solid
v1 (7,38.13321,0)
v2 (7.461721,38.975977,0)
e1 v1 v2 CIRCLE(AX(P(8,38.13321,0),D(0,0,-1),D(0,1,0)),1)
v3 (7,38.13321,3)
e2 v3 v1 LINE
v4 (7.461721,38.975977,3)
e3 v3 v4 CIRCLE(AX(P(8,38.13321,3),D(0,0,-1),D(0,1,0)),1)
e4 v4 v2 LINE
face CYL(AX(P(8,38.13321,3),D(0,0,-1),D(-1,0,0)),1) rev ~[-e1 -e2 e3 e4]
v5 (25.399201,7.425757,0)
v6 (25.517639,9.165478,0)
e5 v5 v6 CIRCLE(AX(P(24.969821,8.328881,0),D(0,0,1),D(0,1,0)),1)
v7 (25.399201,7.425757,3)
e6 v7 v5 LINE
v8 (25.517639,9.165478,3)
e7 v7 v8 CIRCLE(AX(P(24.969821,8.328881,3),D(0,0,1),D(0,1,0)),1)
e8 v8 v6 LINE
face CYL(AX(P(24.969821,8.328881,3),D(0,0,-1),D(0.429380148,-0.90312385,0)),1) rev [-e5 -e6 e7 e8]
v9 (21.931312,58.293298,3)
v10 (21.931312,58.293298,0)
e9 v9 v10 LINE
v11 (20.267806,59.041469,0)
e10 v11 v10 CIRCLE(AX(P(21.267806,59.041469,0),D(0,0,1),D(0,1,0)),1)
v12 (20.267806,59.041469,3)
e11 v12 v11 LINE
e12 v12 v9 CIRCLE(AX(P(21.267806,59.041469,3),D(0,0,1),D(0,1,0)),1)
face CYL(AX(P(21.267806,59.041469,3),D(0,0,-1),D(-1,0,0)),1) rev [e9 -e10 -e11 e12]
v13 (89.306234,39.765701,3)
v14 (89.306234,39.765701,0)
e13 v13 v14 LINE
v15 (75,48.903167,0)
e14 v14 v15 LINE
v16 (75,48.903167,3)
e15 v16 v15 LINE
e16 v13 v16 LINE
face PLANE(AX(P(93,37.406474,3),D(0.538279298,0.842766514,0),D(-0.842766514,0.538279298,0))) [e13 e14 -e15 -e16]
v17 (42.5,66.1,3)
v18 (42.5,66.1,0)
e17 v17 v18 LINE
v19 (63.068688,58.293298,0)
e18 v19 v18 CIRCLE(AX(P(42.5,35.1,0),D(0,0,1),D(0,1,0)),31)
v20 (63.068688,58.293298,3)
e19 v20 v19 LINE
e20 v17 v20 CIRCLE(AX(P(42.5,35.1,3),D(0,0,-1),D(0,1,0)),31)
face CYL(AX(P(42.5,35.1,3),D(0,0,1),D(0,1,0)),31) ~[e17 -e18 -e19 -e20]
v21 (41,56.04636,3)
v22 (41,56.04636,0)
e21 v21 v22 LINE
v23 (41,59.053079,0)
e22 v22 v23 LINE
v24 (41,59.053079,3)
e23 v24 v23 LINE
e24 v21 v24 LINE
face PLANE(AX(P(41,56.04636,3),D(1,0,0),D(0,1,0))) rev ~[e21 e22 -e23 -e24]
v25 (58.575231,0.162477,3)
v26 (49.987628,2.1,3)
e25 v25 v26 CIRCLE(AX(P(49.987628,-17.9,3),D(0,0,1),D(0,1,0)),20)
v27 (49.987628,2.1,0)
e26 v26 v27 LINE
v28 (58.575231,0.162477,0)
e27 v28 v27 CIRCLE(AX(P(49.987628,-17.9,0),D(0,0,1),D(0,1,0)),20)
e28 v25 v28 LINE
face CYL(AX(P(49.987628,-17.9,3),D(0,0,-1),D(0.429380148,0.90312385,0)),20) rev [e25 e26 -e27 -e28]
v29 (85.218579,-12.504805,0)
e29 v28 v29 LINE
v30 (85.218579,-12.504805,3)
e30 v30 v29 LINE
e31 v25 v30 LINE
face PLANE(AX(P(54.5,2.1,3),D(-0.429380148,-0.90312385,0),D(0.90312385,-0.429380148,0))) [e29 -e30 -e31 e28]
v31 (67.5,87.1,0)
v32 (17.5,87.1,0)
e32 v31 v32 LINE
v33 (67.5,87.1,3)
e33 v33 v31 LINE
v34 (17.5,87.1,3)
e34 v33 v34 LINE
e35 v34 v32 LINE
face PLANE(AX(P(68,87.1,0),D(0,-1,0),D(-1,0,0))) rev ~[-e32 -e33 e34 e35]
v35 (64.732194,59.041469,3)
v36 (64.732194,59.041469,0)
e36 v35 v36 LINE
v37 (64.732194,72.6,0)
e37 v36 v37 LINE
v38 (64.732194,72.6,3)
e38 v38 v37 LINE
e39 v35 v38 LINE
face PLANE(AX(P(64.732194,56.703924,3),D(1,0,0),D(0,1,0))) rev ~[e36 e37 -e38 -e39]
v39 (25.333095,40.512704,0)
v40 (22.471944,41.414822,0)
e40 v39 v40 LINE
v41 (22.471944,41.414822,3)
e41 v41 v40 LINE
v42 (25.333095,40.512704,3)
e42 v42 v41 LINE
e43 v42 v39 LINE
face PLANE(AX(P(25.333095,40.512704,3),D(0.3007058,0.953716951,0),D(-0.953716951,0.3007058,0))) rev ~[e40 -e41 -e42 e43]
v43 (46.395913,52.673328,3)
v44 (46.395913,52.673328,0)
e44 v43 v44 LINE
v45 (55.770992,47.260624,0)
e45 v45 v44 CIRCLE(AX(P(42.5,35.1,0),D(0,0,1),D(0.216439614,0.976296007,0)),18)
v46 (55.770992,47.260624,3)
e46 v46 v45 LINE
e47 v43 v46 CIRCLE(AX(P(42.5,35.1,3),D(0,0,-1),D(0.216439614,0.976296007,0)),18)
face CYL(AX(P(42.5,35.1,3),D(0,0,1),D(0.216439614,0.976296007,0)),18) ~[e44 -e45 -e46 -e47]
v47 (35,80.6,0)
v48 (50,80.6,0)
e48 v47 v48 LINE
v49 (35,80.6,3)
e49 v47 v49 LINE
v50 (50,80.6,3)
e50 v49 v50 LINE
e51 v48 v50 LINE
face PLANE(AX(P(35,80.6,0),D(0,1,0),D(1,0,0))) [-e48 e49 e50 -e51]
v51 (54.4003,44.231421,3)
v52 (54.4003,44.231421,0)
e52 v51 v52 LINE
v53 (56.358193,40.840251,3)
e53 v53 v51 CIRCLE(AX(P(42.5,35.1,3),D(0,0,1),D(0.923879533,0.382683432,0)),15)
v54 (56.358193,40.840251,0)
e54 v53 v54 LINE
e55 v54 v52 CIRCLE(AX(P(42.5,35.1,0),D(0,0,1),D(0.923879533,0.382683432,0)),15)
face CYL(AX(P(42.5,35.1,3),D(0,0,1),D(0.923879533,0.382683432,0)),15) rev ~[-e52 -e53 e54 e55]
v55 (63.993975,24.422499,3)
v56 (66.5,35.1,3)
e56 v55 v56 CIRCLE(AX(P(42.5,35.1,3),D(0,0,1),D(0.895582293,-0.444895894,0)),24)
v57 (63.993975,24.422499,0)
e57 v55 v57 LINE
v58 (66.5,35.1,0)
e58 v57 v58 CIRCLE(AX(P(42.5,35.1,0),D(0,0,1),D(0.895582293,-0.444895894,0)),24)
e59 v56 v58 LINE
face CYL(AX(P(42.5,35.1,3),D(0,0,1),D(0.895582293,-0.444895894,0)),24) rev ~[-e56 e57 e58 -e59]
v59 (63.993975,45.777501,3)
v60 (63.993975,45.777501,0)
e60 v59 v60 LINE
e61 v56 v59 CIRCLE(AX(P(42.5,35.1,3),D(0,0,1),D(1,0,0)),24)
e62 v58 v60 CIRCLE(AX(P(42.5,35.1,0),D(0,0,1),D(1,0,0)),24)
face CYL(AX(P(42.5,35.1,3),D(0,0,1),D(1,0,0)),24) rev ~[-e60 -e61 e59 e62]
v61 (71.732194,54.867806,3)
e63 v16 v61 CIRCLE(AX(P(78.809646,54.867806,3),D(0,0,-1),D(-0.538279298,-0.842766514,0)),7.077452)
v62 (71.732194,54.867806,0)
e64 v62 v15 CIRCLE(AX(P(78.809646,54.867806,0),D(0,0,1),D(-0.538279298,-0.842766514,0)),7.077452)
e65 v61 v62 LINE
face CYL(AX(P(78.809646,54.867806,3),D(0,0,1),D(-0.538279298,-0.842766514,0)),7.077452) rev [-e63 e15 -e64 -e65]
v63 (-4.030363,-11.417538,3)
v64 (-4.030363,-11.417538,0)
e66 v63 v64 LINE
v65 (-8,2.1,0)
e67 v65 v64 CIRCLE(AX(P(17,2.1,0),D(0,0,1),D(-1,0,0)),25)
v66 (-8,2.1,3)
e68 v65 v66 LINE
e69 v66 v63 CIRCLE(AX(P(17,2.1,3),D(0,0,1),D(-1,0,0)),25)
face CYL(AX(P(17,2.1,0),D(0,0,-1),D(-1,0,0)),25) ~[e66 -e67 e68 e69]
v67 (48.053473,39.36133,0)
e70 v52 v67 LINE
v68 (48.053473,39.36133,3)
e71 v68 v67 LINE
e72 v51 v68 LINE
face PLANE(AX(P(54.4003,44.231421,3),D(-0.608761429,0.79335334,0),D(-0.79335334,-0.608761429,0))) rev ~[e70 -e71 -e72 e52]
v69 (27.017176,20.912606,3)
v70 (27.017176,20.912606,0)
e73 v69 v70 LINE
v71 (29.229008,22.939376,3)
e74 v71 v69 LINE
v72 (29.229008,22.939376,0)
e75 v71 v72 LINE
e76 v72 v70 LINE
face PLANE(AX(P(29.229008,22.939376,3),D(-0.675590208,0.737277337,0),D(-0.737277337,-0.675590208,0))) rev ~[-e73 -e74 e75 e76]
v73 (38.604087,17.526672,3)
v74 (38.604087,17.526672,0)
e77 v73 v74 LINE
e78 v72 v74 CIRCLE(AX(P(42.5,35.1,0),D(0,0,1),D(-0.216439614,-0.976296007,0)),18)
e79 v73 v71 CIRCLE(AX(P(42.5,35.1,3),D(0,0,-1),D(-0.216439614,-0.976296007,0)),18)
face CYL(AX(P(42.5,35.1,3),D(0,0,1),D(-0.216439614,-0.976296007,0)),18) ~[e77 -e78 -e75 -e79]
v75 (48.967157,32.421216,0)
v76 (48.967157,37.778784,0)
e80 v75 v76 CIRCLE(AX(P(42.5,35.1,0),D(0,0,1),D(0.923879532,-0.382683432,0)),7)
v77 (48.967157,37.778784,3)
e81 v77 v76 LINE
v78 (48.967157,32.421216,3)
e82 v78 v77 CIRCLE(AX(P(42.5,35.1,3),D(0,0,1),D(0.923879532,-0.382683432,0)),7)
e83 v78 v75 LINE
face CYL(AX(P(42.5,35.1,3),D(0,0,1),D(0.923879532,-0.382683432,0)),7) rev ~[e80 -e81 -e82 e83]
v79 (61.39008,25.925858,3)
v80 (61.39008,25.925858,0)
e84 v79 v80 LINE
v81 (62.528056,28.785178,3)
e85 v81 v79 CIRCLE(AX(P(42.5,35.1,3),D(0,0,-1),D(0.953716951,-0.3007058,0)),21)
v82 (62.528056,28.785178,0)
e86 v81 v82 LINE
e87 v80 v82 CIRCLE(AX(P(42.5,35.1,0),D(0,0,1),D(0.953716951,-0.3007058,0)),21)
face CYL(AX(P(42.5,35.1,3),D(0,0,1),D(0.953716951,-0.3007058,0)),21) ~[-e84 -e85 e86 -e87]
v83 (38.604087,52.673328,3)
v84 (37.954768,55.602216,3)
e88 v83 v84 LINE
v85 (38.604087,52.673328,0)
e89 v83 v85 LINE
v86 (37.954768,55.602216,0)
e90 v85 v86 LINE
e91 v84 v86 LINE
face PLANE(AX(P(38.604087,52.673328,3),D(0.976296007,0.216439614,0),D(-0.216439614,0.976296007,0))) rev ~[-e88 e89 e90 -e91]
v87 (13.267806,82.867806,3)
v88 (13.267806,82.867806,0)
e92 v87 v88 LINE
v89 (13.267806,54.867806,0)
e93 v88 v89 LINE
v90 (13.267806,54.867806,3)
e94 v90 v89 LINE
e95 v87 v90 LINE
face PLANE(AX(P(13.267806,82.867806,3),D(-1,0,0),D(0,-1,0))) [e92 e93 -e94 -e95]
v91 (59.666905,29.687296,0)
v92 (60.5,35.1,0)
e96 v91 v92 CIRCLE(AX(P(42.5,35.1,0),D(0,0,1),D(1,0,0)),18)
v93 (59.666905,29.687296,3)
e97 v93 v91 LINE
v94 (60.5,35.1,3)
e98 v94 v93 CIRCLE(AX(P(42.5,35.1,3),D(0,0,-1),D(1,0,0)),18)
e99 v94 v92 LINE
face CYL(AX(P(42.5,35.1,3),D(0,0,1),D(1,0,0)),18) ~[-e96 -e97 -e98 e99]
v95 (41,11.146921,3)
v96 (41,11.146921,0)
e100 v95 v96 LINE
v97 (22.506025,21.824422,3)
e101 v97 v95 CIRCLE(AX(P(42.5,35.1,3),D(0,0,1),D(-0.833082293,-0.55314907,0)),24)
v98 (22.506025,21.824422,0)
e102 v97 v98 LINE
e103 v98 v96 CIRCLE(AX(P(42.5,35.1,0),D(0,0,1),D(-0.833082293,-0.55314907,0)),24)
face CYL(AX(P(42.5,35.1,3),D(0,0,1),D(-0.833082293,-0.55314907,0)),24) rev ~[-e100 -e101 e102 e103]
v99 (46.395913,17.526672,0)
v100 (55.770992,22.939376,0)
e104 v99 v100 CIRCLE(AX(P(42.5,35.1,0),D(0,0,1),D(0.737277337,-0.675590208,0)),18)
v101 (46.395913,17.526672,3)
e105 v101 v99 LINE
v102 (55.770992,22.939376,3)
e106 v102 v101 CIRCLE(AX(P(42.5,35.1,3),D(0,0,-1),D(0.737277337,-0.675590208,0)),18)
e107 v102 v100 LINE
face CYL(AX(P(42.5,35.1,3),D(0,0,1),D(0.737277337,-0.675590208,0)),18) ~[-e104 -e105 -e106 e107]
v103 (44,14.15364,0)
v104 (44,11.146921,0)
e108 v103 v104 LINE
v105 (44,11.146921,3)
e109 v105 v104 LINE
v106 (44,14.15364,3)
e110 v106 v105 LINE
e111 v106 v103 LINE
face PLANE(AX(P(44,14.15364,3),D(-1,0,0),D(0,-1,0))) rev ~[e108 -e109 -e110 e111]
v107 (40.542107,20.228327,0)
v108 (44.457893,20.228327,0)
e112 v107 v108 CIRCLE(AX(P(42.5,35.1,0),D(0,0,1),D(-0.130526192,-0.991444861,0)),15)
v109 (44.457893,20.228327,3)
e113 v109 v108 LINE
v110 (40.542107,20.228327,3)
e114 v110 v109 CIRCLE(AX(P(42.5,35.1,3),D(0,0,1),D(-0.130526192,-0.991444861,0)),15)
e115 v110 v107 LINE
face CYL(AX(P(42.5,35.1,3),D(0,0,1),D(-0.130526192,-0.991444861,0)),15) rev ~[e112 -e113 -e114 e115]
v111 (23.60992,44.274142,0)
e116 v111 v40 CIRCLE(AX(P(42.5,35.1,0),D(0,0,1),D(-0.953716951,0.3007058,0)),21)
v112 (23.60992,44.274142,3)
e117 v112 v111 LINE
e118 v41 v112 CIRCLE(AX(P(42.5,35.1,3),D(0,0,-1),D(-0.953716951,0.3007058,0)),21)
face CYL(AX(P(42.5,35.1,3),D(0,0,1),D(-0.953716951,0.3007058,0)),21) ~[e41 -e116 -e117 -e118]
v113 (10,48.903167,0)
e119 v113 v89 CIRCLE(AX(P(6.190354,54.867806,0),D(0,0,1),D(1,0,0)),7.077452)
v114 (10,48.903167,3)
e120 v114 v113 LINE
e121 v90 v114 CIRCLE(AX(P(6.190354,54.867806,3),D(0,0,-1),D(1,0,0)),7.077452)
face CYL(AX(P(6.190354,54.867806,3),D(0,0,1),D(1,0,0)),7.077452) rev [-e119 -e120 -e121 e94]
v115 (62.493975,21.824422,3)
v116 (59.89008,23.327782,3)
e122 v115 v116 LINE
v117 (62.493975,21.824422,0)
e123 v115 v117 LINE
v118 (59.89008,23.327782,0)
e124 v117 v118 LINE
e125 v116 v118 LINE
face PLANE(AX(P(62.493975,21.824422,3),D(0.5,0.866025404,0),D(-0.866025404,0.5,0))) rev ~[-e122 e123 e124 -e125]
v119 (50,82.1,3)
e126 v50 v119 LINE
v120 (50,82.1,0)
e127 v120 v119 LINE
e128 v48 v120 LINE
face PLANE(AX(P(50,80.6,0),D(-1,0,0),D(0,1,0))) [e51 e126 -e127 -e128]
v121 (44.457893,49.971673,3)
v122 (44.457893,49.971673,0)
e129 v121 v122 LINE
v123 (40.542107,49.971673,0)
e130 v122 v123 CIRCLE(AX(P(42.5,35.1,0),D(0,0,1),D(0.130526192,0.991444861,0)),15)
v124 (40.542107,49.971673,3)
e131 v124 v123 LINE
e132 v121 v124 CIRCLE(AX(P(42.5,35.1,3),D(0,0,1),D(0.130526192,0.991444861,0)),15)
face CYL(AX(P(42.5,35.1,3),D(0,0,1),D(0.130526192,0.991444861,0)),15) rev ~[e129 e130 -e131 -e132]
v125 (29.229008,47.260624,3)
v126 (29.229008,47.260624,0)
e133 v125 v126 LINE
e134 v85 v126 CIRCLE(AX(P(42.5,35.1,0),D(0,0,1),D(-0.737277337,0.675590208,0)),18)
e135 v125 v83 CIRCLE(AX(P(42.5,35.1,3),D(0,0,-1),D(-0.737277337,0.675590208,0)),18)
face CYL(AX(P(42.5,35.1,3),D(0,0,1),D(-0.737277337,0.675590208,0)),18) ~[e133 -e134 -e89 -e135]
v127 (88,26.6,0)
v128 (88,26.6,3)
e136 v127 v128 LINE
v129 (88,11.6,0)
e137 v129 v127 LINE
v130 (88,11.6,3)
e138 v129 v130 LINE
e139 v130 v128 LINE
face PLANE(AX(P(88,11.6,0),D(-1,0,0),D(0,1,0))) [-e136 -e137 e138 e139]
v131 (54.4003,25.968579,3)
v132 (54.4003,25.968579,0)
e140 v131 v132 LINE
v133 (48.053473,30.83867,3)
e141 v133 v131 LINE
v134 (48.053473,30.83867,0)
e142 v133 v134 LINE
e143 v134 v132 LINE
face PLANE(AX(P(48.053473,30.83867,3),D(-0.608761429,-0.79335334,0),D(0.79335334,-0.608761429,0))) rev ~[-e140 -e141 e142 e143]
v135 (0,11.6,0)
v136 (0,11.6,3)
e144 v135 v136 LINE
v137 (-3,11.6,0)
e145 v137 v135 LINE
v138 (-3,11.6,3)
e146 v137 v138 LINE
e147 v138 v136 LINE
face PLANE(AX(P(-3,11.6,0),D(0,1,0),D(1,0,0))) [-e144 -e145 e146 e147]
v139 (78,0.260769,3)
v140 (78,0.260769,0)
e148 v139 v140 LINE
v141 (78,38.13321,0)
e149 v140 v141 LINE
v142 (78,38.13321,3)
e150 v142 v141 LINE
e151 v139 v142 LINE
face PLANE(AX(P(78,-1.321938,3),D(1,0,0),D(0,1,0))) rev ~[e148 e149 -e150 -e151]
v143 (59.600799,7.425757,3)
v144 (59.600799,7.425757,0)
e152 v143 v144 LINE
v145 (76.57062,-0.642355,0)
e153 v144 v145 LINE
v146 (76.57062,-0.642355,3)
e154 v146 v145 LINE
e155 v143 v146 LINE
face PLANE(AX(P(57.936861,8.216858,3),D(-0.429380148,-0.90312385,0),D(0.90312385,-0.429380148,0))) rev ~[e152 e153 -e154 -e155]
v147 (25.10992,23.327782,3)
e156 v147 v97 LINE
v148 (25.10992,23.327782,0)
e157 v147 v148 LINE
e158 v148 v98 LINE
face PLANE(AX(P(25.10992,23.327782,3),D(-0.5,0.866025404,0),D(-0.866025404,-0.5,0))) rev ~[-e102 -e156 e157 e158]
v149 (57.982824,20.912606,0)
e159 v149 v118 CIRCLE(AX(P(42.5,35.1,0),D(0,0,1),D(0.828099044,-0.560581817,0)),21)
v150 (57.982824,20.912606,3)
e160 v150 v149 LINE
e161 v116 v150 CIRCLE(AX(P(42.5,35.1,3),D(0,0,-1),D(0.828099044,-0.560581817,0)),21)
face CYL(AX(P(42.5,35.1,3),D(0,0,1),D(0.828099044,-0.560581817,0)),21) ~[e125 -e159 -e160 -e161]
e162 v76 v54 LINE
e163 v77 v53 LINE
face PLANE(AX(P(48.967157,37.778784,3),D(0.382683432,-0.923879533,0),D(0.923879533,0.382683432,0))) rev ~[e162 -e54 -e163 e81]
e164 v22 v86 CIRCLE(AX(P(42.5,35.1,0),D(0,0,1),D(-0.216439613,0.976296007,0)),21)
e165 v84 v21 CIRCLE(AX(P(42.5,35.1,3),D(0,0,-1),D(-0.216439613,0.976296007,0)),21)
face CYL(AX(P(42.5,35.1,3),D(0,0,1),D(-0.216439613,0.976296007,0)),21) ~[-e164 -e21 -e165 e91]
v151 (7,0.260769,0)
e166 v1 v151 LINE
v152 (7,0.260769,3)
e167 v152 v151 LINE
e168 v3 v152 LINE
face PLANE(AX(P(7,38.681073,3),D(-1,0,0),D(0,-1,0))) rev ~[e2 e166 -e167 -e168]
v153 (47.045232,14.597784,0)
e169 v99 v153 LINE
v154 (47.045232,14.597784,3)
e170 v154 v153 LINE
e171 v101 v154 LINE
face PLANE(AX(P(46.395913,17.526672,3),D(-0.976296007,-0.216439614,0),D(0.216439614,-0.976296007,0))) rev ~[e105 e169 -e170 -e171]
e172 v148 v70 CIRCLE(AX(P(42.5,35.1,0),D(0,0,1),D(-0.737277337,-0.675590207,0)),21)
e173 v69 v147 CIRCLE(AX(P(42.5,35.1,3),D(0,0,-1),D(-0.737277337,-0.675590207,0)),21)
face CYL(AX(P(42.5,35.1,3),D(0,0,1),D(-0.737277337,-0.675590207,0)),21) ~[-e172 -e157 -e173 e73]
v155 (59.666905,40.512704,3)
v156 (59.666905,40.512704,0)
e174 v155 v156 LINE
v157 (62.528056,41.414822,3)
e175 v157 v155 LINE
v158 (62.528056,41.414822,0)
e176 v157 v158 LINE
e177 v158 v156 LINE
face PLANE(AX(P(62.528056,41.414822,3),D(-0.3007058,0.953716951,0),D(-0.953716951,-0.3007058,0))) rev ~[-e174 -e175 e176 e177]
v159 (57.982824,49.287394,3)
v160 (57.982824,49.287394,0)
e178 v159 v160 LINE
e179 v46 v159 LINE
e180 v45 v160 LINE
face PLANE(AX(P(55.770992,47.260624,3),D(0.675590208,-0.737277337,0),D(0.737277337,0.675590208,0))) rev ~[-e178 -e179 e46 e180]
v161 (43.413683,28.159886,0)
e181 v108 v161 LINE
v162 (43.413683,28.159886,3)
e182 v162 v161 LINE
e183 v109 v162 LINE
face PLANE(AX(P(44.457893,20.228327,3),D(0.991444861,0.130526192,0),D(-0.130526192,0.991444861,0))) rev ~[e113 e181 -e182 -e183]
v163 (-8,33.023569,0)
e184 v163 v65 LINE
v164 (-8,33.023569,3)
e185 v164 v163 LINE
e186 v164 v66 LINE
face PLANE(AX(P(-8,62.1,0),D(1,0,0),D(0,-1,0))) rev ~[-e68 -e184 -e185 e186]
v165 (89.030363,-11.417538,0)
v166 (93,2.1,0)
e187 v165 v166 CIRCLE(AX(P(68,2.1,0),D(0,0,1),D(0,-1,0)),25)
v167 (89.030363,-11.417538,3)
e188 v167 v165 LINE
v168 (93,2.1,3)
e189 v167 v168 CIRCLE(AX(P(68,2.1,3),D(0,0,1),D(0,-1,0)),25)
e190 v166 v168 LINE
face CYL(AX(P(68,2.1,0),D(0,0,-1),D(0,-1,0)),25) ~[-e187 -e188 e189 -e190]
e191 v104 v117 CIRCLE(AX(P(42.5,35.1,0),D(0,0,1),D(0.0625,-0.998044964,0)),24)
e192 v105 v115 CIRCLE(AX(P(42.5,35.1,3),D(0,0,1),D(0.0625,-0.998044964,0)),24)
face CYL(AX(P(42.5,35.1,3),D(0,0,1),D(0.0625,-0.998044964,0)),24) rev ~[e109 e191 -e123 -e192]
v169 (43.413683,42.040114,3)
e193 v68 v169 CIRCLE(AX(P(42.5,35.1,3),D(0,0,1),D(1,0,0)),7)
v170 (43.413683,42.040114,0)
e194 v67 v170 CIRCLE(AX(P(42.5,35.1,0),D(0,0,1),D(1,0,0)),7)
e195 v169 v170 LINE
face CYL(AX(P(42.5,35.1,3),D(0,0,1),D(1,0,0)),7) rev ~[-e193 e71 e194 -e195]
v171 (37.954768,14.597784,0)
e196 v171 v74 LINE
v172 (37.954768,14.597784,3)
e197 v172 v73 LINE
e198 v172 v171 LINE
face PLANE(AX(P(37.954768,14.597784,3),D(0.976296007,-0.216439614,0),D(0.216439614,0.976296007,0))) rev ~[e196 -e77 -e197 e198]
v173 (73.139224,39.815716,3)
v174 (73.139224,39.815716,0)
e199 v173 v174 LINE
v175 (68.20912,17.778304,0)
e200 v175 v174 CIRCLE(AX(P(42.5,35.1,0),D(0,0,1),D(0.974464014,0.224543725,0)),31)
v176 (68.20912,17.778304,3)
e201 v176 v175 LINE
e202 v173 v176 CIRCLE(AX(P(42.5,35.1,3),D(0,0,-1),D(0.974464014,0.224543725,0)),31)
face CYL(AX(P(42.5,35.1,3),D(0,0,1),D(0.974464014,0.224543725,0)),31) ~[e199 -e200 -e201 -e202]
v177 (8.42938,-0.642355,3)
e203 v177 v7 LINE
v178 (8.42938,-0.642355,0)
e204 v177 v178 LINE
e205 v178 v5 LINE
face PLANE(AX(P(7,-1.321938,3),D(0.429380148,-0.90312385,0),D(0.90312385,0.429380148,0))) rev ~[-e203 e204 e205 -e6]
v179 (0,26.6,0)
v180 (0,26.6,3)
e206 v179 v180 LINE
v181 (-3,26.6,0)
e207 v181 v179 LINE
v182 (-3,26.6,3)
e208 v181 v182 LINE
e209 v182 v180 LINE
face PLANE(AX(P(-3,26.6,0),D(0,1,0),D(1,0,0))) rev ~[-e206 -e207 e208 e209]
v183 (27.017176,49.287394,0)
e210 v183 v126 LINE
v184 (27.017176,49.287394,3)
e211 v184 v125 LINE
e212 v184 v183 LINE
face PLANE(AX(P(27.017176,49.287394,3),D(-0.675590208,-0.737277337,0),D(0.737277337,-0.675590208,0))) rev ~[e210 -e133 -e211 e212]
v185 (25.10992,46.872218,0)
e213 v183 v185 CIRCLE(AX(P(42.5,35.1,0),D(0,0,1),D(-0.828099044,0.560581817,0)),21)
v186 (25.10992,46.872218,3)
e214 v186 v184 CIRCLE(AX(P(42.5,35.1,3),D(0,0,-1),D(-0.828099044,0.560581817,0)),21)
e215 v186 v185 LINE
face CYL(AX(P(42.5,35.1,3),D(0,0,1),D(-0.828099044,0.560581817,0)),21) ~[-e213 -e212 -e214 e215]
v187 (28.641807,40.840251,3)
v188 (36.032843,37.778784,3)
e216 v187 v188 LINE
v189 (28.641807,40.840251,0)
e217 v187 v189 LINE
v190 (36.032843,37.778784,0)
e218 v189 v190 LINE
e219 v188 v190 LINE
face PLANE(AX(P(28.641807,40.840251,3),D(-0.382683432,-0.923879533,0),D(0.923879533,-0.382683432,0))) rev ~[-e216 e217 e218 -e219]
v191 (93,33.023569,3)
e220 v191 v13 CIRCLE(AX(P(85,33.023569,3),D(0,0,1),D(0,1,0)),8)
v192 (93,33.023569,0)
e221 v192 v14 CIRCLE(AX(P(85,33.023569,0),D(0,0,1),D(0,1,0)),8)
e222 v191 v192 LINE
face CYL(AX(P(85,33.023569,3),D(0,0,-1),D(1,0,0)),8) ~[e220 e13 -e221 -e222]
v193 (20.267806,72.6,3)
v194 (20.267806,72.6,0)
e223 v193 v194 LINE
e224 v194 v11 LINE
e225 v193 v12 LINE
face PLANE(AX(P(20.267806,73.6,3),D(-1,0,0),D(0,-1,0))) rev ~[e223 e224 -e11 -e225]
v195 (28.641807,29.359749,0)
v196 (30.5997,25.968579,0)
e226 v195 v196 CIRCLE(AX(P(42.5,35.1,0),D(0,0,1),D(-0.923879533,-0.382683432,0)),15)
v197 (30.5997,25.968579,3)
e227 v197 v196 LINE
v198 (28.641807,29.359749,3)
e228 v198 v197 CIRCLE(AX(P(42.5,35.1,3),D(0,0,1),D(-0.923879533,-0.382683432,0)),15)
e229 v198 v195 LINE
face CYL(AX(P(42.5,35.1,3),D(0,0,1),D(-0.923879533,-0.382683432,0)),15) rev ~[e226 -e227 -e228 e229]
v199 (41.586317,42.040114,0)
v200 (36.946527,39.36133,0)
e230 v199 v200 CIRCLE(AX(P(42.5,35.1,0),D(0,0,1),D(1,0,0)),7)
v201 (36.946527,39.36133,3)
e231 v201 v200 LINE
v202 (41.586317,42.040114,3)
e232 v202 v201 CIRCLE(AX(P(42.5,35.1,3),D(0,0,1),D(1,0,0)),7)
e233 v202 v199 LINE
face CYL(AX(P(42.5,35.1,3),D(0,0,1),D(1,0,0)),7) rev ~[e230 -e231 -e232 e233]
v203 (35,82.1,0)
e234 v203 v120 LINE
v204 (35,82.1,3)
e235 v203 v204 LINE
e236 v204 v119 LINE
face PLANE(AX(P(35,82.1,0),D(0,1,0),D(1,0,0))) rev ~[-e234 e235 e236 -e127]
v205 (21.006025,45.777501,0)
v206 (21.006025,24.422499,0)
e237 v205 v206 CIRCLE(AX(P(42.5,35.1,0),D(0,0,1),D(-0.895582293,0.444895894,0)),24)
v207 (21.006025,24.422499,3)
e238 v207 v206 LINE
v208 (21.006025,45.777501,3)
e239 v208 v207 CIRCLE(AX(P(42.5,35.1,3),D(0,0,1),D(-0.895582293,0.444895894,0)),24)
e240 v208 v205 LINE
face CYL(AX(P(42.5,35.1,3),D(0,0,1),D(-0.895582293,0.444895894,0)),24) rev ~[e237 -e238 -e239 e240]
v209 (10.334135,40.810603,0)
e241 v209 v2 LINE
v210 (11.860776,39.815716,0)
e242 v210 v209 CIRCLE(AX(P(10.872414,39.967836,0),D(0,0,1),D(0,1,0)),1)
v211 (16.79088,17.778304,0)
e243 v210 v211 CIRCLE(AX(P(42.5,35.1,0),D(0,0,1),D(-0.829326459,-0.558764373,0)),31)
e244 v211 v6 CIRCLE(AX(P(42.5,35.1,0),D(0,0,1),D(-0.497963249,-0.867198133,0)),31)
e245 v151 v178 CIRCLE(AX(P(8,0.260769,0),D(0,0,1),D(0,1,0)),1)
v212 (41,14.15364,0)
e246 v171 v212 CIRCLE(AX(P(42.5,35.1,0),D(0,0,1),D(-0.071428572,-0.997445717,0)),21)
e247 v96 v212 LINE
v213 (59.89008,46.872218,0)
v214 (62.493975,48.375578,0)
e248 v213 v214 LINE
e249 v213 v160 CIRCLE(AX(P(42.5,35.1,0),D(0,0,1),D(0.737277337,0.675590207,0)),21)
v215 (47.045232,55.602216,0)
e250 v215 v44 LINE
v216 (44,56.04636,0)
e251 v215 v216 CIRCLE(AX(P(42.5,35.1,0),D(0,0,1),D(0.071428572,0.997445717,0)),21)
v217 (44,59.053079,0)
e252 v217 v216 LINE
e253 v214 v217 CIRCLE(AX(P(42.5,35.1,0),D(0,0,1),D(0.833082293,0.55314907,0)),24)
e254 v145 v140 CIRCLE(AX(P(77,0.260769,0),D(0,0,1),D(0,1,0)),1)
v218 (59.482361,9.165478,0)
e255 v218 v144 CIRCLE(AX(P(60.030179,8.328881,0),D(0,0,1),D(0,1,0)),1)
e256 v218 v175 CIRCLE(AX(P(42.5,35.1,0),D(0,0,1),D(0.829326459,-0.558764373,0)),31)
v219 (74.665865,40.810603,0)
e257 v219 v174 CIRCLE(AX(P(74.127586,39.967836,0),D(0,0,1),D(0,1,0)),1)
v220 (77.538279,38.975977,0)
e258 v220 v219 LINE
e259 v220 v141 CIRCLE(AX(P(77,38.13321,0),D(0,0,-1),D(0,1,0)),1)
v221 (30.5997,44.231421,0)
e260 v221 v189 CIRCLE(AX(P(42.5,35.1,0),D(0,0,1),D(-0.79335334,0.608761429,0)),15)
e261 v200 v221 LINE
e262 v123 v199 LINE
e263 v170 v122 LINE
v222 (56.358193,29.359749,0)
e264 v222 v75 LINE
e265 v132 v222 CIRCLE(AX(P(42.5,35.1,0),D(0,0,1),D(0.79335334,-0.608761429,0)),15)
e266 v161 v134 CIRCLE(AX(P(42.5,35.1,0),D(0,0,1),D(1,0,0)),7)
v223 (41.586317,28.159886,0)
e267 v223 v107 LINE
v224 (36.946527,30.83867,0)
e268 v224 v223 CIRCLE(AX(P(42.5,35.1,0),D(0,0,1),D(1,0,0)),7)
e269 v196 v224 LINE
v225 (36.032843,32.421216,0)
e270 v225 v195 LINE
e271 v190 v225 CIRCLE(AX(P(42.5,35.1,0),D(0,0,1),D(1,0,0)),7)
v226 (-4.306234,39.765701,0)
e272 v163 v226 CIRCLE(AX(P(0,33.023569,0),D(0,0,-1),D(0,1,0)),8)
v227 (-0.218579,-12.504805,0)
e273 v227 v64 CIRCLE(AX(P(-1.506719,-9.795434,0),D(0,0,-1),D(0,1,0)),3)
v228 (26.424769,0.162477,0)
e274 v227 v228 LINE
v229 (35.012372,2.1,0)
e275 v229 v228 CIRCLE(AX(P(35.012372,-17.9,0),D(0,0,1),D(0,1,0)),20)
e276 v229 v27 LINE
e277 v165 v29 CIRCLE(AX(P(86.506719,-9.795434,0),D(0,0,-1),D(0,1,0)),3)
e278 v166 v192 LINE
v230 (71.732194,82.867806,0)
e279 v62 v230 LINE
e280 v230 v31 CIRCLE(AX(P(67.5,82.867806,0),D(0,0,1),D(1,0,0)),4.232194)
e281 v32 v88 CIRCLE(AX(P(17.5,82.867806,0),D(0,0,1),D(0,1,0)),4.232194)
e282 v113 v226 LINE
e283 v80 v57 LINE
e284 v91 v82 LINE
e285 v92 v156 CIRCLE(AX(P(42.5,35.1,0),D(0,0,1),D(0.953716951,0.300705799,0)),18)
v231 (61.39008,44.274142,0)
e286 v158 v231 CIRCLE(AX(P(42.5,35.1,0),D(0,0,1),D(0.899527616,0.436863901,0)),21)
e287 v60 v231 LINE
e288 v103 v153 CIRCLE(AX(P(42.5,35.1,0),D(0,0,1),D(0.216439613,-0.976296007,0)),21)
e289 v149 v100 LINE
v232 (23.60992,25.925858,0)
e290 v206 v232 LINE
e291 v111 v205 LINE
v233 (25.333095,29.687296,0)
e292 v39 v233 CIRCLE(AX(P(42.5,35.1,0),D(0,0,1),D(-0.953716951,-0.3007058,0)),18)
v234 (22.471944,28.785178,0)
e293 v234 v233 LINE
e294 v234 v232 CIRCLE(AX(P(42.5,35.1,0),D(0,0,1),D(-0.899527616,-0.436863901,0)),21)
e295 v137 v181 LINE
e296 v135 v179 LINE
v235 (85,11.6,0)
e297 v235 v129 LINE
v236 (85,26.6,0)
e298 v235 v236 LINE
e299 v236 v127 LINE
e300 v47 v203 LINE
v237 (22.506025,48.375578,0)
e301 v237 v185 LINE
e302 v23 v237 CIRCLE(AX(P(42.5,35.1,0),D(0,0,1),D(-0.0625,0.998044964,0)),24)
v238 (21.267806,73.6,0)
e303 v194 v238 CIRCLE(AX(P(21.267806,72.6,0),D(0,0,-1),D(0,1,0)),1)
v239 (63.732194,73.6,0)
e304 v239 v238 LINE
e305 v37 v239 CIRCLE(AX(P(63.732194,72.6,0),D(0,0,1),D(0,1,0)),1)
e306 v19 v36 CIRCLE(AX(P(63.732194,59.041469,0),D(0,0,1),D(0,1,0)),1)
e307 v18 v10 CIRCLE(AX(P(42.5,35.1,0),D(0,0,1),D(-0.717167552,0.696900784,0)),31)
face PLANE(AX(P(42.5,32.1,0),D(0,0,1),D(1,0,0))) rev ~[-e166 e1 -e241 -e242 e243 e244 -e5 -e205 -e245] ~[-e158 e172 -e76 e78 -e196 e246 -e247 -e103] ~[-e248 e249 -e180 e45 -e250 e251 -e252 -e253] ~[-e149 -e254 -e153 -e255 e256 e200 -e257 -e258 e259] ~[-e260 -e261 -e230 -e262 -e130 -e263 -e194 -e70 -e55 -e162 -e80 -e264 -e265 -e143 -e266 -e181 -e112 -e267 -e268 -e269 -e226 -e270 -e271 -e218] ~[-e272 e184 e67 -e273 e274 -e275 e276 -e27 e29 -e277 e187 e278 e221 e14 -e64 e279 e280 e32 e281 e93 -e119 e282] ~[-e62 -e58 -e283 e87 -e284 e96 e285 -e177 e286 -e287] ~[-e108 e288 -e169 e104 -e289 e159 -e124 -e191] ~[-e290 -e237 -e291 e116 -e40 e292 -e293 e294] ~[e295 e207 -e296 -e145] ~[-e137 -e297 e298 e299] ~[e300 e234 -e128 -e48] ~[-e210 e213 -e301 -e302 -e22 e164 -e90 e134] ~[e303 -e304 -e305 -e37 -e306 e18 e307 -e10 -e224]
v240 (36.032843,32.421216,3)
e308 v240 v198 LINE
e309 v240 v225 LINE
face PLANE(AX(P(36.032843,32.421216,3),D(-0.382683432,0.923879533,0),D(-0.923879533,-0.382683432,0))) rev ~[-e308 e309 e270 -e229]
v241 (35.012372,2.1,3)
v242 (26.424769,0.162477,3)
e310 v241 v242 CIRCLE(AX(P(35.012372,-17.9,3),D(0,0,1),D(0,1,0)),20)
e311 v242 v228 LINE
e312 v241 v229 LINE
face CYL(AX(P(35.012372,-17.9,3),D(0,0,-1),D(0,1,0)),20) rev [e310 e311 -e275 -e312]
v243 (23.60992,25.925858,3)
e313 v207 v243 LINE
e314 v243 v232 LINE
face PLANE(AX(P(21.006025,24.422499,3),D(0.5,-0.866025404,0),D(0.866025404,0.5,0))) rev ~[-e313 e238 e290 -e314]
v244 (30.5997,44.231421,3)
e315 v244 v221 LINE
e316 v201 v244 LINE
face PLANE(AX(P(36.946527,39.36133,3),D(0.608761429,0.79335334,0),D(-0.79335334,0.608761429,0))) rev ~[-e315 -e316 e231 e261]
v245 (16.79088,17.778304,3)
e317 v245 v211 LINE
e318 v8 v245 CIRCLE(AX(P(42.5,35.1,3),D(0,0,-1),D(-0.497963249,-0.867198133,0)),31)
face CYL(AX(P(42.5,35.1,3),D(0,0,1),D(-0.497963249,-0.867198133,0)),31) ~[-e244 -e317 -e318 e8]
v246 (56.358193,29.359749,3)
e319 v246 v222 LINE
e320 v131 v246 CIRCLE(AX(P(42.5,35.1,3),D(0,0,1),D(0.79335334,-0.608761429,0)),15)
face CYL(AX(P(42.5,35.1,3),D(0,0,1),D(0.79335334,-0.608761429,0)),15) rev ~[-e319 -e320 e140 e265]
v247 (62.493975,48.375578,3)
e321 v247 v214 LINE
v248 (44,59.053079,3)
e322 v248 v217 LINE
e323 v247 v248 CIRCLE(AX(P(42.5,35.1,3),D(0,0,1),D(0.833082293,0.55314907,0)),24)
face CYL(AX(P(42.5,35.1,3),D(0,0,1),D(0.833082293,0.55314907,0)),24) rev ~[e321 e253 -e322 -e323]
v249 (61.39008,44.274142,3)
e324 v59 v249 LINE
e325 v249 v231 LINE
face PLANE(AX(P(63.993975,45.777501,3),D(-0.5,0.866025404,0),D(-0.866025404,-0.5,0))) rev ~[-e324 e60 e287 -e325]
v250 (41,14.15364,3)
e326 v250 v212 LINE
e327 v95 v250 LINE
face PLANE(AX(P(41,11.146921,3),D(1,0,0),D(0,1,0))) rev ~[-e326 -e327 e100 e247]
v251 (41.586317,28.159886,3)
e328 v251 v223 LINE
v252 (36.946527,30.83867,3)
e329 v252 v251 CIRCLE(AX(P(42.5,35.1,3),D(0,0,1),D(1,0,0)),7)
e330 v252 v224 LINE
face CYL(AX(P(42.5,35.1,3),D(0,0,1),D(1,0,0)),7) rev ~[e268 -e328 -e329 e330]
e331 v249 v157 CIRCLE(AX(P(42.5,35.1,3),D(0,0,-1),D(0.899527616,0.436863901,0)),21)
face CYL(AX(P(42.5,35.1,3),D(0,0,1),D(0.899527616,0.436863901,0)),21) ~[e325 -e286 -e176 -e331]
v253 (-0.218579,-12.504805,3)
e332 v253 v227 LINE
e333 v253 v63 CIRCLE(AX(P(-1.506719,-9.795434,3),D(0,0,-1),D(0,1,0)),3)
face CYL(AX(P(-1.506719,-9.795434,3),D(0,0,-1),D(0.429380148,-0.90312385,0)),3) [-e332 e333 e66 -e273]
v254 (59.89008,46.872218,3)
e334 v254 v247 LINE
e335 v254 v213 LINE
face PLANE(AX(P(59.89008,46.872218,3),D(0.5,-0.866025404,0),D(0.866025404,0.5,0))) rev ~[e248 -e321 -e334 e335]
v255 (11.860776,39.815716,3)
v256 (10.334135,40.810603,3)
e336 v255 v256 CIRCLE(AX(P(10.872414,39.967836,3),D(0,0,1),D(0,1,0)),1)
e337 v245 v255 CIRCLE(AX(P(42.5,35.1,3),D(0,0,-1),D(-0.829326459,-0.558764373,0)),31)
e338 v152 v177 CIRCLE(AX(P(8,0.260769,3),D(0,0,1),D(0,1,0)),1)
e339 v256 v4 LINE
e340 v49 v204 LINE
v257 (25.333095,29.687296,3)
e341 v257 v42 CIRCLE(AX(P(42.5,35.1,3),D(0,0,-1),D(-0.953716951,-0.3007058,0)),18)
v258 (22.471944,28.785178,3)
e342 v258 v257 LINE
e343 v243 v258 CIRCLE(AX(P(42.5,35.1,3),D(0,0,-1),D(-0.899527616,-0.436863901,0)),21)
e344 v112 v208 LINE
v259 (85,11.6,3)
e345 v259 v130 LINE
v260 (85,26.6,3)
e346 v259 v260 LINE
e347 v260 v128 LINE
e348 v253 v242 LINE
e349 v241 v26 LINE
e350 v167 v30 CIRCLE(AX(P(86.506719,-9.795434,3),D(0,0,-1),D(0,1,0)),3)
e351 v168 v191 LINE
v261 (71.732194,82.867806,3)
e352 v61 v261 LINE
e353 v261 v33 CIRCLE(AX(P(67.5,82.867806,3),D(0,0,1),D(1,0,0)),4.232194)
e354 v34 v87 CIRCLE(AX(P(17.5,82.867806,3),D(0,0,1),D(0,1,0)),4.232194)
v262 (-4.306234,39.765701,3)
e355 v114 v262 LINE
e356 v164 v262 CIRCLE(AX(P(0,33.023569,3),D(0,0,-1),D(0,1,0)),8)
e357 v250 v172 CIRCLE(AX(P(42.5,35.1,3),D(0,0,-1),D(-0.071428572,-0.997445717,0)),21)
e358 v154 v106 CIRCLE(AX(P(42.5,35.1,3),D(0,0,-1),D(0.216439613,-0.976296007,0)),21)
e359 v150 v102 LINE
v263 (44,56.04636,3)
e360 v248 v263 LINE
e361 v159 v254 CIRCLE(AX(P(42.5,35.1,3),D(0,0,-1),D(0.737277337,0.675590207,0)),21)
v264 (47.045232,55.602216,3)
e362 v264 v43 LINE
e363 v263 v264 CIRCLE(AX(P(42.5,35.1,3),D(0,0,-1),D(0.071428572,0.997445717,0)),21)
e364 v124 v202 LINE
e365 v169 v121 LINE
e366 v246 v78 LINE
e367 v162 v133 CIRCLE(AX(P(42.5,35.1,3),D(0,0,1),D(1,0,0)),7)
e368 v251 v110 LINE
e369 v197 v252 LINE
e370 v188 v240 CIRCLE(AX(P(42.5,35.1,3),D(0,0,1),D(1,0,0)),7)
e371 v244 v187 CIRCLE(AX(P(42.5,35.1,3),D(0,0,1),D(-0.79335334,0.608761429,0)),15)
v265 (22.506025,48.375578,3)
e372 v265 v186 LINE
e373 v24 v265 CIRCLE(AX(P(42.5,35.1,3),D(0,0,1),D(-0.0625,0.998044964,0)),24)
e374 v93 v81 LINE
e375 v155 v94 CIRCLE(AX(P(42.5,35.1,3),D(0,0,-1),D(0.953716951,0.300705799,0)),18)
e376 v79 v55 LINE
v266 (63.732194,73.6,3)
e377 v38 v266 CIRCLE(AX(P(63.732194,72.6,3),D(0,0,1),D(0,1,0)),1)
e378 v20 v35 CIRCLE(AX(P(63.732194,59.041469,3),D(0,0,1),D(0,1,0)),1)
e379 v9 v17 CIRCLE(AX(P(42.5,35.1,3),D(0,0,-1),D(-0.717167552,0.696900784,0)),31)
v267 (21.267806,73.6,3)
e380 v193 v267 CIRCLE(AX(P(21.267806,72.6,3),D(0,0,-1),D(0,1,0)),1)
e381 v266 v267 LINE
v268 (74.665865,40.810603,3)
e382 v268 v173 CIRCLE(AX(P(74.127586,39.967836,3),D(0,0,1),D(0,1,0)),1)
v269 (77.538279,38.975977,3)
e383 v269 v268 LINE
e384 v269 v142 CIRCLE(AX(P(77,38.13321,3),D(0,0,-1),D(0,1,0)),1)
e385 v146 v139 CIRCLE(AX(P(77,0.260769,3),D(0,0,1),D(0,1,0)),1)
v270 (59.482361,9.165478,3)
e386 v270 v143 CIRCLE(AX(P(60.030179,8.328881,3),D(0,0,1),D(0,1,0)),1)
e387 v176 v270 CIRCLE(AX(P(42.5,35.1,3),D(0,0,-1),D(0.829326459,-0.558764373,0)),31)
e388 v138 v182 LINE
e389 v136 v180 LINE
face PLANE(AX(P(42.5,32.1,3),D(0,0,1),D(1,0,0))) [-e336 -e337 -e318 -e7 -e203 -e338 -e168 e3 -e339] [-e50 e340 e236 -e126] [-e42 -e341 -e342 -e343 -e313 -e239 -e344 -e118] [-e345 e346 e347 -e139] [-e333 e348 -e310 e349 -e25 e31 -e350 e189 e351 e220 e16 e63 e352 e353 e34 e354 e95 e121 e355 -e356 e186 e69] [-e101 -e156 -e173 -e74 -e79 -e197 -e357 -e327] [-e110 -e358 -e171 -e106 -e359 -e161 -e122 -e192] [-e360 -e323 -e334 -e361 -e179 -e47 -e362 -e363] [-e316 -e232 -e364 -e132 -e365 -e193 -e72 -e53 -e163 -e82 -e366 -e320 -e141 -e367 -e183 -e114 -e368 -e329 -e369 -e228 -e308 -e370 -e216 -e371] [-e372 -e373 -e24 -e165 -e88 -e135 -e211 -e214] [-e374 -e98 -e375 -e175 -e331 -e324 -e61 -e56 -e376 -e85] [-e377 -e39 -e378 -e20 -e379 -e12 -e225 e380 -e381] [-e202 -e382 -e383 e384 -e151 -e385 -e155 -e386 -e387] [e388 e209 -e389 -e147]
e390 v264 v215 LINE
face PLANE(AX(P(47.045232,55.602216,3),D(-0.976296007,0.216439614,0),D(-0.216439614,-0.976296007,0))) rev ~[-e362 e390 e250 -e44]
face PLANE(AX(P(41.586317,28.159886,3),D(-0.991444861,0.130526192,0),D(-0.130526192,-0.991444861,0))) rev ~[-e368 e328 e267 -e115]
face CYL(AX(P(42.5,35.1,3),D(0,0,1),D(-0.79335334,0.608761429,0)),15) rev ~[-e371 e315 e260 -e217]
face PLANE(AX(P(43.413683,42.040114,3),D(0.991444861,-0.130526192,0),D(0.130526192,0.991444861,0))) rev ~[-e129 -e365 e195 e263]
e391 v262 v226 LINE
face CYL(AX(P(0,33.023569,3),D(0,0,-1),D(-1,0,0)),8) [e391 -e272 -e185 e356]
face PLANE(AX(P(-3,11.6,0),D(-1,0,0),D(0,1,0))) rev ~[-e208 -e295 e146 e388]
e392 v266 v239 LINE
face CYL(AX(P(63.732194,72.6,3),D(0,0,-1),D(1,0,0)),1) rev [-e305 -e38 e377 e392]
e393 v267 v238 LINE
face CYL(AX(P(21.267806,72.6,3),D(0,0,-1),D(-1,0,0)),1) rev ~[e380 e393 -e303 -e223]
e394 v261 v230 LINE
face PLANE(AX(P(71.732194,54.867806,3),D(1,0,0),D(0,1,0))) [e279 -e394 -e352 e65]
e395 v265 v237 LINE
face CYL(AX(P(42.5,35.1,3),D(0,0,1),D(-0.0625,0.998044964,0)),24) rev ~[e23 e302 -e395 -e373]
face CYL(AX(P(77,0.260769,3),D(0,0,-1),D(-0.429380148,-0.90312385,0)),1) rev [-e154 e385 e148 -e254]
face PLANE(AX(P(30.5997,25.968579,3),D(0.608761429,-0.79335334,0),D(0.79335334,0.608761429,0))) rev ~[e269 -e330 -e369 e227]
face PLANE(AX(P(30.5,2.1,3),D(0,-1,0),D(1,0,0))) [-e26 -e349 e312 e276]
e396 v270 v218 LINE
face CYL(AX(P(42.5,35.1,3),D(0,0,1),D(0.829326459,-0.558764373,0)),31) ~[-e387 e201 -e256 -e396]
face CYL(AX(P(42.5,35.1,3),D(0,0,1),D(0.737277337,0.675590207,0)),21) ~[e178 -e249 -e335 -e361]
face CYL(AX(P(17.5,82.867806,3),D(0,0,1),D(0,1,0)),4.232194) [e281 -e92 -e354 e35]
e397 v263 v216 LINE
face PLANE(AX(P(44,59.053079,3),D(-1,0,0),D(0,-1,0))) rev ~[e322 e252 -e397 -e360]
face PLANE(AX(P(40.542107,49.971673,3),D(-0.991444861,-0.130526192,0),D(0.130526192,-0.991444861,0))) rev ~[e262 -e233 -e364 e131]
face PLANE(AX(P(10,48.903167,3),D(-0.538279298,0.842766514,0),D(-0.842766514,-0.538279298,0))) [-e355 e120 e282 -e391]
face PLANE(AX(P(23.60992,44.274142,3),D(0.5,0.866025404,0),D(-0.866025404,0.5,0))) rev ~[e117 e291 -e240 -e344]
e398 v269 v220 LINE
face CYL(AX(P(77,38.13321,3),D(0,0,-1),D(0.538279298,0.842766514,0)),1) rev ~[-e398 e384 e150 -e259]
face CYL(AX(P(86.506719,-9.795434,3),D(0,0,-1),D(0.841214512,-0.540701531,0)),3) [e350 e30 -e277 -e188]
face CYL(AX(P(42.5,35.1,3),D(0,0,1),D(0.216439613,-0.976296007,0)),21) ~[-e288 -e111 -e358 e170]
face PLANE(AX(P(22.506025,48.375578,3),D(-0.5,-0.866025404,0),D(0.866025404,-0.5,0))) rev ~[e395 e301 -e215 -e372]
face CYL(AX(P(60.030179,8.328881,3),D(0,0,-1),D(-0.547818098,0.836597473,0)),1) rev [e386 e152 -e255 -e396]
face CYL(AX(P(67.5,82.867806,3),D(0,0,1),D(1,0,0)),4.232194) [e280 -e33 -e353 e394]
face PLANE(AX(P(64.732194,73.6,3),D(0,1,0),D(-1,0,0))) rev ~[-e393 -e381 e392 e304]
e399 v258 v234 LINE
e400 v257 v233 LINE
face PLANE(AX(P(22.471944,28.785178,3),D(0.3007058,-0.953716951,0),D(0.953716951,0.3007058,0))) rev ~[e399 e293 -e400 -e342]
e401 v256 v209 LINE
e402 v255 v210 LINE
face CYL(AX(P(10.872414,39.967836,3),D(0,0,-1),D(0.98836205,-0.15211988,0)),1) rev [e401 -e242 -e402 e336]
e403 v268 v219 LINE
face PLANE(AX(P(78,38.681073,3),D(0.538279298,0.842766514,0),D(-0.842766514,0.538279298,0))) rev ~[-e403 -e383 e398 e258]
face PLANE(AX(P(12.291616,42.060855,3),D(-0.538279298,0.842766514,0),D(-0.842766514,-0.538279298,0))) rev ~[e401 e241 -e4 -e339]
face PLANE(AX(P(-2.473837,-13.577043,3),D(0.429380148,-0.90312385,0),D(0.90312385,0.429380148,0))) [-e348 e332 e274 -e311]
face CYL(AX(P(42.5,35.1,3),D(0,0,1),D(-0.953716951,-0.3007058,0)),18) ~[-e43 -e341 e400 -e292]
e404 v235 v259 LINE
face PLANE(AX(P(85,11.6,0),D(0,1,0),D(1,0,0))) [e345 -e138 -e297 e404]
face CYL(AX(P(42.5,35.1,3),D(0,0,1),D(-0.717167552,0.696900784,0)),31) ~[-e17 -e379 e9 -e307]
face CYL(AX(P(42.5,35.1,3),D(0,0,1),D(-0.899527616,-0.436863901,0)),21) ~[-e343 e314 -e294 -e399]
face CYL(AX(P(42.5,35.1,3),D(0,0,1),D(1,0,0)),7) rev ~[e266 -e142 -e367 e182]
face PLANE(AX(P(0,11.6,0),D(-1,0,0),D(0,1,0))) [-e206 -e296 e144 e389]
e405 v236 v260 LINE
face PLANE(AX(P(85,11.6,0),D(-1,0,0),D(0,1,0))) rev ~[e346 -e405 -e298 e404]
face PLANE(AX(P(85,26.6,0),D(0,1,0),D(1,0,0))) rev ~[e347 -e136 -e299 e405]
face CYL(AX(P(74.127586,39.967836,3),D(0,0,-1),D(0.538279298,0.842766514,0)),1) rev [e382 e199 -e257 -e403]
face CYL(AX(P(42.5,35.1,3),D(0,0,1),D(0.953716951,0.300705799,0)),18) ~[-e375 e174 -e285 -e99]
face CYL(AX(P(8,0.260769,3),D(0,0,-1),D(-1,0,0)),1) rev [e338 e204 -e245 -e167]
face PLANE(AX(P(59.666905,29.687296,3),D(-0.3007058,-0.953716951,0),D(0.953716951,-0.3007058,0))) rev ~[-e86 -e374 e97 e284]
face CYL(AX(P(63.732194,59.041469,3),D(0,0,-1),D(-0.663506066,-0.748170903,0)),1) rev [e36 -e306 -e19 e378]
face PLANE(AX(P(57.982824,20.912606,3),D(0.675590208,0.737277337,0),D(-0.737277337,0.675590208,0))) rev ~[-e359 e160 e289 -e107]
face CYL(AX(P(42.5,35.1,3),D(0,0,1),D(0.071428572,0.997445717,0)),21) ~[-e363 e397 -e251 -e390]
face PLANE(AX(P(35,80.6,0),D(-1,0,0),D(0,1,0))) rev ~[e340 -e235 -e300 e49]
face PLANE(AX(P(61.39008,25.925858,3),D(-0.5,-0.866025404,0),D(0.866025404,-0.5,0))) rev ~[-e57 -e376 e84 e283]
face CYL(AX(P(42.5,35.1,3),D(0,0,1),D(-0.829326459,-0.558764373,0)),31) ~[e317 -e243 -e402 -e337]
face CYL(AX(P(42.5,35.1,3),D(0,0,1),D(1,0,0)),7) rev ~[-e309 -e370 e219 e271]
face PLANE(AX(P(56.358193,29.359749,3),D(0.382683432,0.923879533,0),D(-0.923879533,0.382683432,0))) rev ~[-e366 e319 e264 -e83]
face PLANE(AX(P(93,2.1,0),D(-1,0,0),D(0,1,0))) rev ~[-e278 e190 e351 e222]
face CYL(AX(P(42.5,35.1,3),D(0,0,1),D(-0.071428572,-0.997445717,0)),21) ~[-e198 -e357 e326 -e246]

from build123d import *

# Parameters (mm, degrees)
SKETCH2_W           = 3
SKETCH2_H           = 15
SKETCH2_W_2         = 15
SKETCH2_H_2         = 1.5
BOSS_EXTRUDE1_DEPTH = 3
CUT_EXTRUDE1_DEPTH  = 128.45356017
FILLET1_R           = 3
FILLET2_R           = 20
FILLET3_R           = 8
SKETCH5_R           = 7
CUT_EXTRUDE2_DEPTH  = 128.45356017
CUT_EXTRUDE3_DEPTH  = 128.45356017
FILLET4_R           = 1


with BuildPart() as part:
    # Sketch2 → Boss-Extrude1 (new body)
    with BuildSketch(Plane.XY):
        with BuildLine():
            Line((93, 2.1), (93, 62.1))
            ThreePointArc((93, 62.1), (85.67766953, 79.77766953), (68, 87.1))
            Line((68, 87.1), (17, 87.1))
            ThreePointArc((17, 87.1), (-0.67766953, 79.77766953), (-8, 62.1))
            Line((-8, 62.1), (-8, 2.1))
            ThreePointArc((-8, 2.1), (-0.67766953, -15.57766953), (17, -22.9))
            Line((17, -22.9), (68, -22.9))
            ThreePointArc((68, -22.9), (85.67766953, -15.57766953), (93, 2.1))
        make_face()
        with Locations((-1.5, 19.1)):
            Rectangle(SKETCH2_W, SKETCH2_H, mode=Mode.SUBTRACT)
        with Locations((86.5, 19.1)):
            Rectangle(SKETCH2_W, SKETCH2_H, mode=Mode.SUBTRACT)
        with Locations((42.5, 81.35)):
            Rectangle(SKETCH2_W_2, SKETCH2_H_2, mode=Mode.SUBTRACT)
    extrude(amount=BOSS_EXTRUDE1_DEPTH)

    # Sketch3 → Cut-Extrude1 (cut, through all)
    with BuildSketch(Plane.XY.offset(3)):
        with BuildLine():
            Line((13.267805899, 82.867805899), (13.267805899, 54.867805899))
            ThreePointArc((13.267805899, 54.867805899), (12.397322327, 51.467236981), (10, 48.903166724))
            Line((10, 48.903166724), (-8, 37.406474337))
            Line((-8, 37.406474337), (-8, 106.022950617))
            Line((-8, 106.022950617), (93, 106.022950617))
            Line((93, 106.022950617), (93, 37.406474337))
            Line((93, 37.406474337), (75, 48.903166724))
            ThreePointArc((75, 48.903166724), (72.602677673, 51.467236981), (71.732194101, 54.867805899))
            Line((71.732194101, 54.867805899), (71.732194101, 82.867805899))
            ThreePointArc((71.732194101, 82.867805899), (70.492613148, 85.860419047), (67.5, 87.1))
            Line((67.5, 87.1), (17.5, 87.1))
            ThreePointArc((17.5, 87.1), (14.507386852, 85.860419047), (13.267805899, 82.867805899))
        make_face()
        Polygon((-2.473837178, -13.577042628), (30.5, 2.1), (54.5, 2.1), (87.473837178, -13.577042628), (87.473837178, -35.532818411), (-2.473837178, -35.532818411), align=None)
    extrude(amount=-CUT_EXTRUDE1_DEPTH, mode=Mode.SUBTRACT)

    # Fillet1
    fillet1_edges = [part.edges().sort_by_distance(p)[0] for p in [
        (-2.473837178, -13.577042628, 1.5),
        (87.473837178, -13.577042628, 1.5),
    ]]
    fillet(fillet1_edges, radius=FILLET1_R)

    # Fillet2
    fillet2_edges = [part.edges().sort_by_distance(p)[0] for p in [
        (30.5, 2.1, 1.5),
        (54.5, 2.1, 1.5),
    ]]
    fillet(fillet2_edges, radius=FILLET2_R)

    # Fillet3
    fillet3_edges = [part.edges().sort_by_distance(p)[0] for p in [
        (-8, 37.406474337, 1.5),
        (93, 37.406474337, 1.5),
    ]]
    fillet(fillet3_edges, radius=FILLET3_R)

    # Sketch5 → Cut-Extrude2 (cut, through all)
    with BuildSketch(Plane.XY.offset(3)):
        with BuildLine():
            Line((41, 56.046360066), (41, 59.053079134))
            ThreePointArc((41, 59.053079134), (30.5, 55.884609691), (22.506024971, 48.375577673))
            Line((22.506024971, 48.375577673), (25.109920066, 46.872218139))
            ThreePointArc((25.109920066, 46.872218139), (26.019246877, 48.114790682), (27.017175927, 49.28739436))
            ThreePointArc((27.017175927, 49.28739436), (32, 53.286533479), (37.954768107, 55.60221615))
            ThreePointArc((37.954768107, 55.60221615), (39.469237206, 55.880146219), (41, 56.046360066))
        make_face()
        with BuildLine():
            Line((23.609920066, 44.274141927), (21.006024971, 45.777501461))
            ThreePointArc((21.006024971, 45.777501461), (18.5, 35.1), (21.006024971, 24.422498539))
            Line((21.006024971, 24.422498539), (23.609920066, 25.925858073))
            ThreePointArc((23.609920066, 25.925858073), (22.988484083, 27.334644463), (22.471944034, 28.78517821))
            ThreePointArc((22.471944034, 28.78517821), (21.5, 35.1), (22.471944034, 41.41482179))
            ThreePointArc((22.471944034, 41.41482179), (22.988484083, 42.865355537), (23.609920066, 44.274141927))
        make_face()
        with BuildLine():
            Line((25.109920066, 23.327781861), (22.506024971, 21.824422327))
            ThreePointArc((22.506024971, 21.824422327), (30.5, 14.315390309), (41, 11.146920866))
            Line((41, 11.146920866), (41, 14.153639934))
            ThreePointArc((41, 14.153639934), (39.469237206, 14.319853781), (37.954768107, 14.59778385))
            ThreePointArc((37.954768107, 14.59778385), (32, 16.913466521), (27.017175927, 20.91260564))
            ThreePointArc((27.017175927, 20.91260564), (26.019246877, 22.085209318), (25.109920066, 23.327781861))
        make_face()
        with BuildLine():
            ThreePointArc((44, 11.146920866), (54.5, 14.315390309), (62.493975029, 21.824422327))
            Line((62.493975029, 21.824422327), (59.890079934, 23.327781861))
            ThreePointArc((59.890079934, 23.327781861), (58.980753123, 22.085209318), (57.982824073, 20.91260564))
            ThreePointArc((57.982824073, 20.91260564), (53, 16.913466521), (47.045231893, 14.59778385))
            ThreePointArc((47.045231893, 14.59778385), (45.530762794, 14.319853781), (44, 14.153639934))
            Line((44, 14.153639934), (44, 11.146920866))
        make_face()
        with BuildLine():
            ThreePointArc((66.5, 35.1), (65.86509577, 40.583821628), (63.993975029, 45.777501461))
            Line((63.993975029, 45.777501461), (61.390079934, 44.274141927))
            ThreePointArc((61.390079934, 44.274141927), (62.011515917, 42.865355537), (62.528055966, 41.41482179))
            ThreePointArc((62.528055966, 41.41482179), (63.25559172, 38.29459111), (63.5, 35.1))
            ThreePointArc((63.5, 35.1), (63.25559172, 31.90540889), (62.528055966, 28.78517821))
            ThreePointArc((62.528055966, 28.78517821), (62.011515917, 27.334644463), (61.390079934, 25.925858073))
            Line((61.390079934, 25.925858073), (63.993975029, 24.422498539))
            ThreePointArc((63.993975029, 24.422498539), (65.86509577, 29.616178372), (66.5, 35.1))
        make_face()
        with BuildLine():
            ThreePointArc((62.493975029, 48.375577673), (54.5, 55.884609691), (44, 59.053079134))
            Line((44, 59.053079134), (44, 56.046360066))
            ThreePointArc((44, 56.046360066), (45.530762794, 55.880146219), (47.045231893, 55.60221615))
            ThreePointArc((47.045231893, 55.60221615), (53, 53.286533479), (57.982824073, 49.28739436))
            ThreePointArc((57.982824073, 49.28739436), (58.980753123, 48.114790682), (59.890079934, 46.872218139))
            Line((59.890079934, 46.872218139), (62.493975029, 48.375577673))
        make_face()
        with BuildLine():
            Line((38.604086949, 52.673328128), (37.954768107, 55.60221615))
            ThreePointArc((37.954768107, 55.60221615), (32, 53.286533479), (27.017175927, 49.28739436))
            Line((27.017175927, 49.28739436), (29.229007937, 47.260623737))
            ThreePointArc((29.229007937, 47.260623737), (33.5, 50.688457268), (38.604086949, 52.673328128))
        make_face()
        with BuildLine():
            Line((25.333094887, 40.512704391), (22.471944034, 41.41482179))
            ThreePointArc((22.471944034, 41.41482179), (21.5, 35.1), (22.471944034, 28.78517821))
            Line((22.471944034, 28.78517821), (25.333094887, 29.687295609))
            ThreePointArc((25.333094887, 29.687295609), (24.5, 35.1), (25.333094887, 40.512704391))
        make_face()
        with BuildLine():
            Line((29.229007937, 22.939376263), (27.017175927, 20.91260564))
            ThreePointArc((27.017175927, 20.91260564), (32, 16.913466521), (37.954768107, 14.59778385))
            Line((37.954768107, 14.59778385), (38.604086949, 17.526671872))
            ThreePointArc((38.604086949, 17.526671872), (33.5, 19.511542732), (29.229007937, 22.939376263))
        make_face()
        with BuildLine():
            ThreePointArc((47.045231893, 14.59778385), (53, 16.913466521), (57.982824073, 20.91260564))
            Line((57.982824073, 20.91260564), (55.770992063, 22.939376263))
            ThreePointArc((55.770992063, 22.939376263), (51.5, 19.511542732), (46.395913051, 17.526671872))
            Line((46.395913051, 17.526671872), (47.045231893, 14.59778385))
        make_face()
        with BuildLine():
            ThreePointArc((63.5, 35.1), (63.25559172, 38.29459111), (62.528055966, 41.41482179))
            Line((62.528055966, 41.41482179), (59.666905113, 40.512704391))
            ThreePointArc((59.666905113, 40.512704391), (60.290507188, 37.838220951), (60.5, 35.1))
            ThreePointArc((60.5, 35.1), (60.290507188, 32.361779049), (59.666905113, 29.687295609))
            Line((59.666905113, 29.687295609), (62.528055966, 28.78517821))
            ThreePointArc((62.528055966, 28.78517821), (63.25559172, 31.90540889), (63.5, 35.1))
        make_face()
        with BuildLine():
            ThreePointArc((57.982824073, 49.28739436), (53, 53.286533479), (47.045231893, 55.60221615))
            Line((47.045231893, 55.60221615), (46.395913051, 52.673328128))
            ThreePointArc((46.395913051, 52.673328128), (51.5, 50.688457268), (55.770992063, 47.260623737))
            Line((55.770992063, 47.260623737), (57.982824073, 49.28739436))
        make_face()
        with BuildLine():
            Line((36.946526618, 39.361330003), (30.599699896, 44.231421435))
            ThreePointArc((30.599699896, 44.231421435), (29.509618943, 42.6), (28.641807012, 40.840251485))
            Line((28.641807012, 40.840251485), (36.032843272, 37.778784027))
            ThreePointArc((36.032843272, 37.778784027), (36.437822174, 38.6), (36.946526618, 39.361330003))
        make_face()
        with BuildLine():
            Line((36.032843272, 32.421215973), (28.641807012, 29.359748515))
            ThreePointArc((28.641807012, 29.359748515), (29.509618943, 27.6), (30.599699896, 25.968578565))
            Line((30.599699896, 25.968578565), (36.946526618, 30.838669997))
            ThreePointArc((36.946526618, 30.838669997), (36.437822174, 31.6), (36.032843272, 32.421215973))
        make_face()
        with BuildLine():
            ThreePointArc((56.358192988, 40.840251485), (55.490381057, 42.6), (54.400300104, 44.231421435))
            Line((54.400300104, 44.231421435), (48.053473382, 39.361330003))
            ThreePointArc((48.053473382, 39.361330003), (48.562177826, 38.6), (48.967156728, 37.778784027))
            Line((48.967156728, 37.778784027), (56.358192988, 40.840251485))
        make_face()
        with BuildLine():
            ThreePointArc((54.400300104, 25.968578565), (55.490381057, 27.6), (56.358192988, 29.359748515))
            Line((56.358192988, 29.359748515), (48.967156728, 32.421215973))
            ThreePointArc((48.967156728, 32.421215973), (48.562177826, 31.6), (48.053473382, 30.838669997))
            Line((48.053473382, 30.838669997), (54.400300104, 25.968578565))
        make_face()
        with BuildLine():
            ThreePointArc((40.542107117, 20.228327079), (42.5, 20.1), (44.457892883, 20.228327079))
            Line((44.457892883, 20.228327079), (43.413683346, 28.15988597))
            ThreePointArc((43.413683346, 28.15988597), (42.5, 28.1), (41.586316654, 28.15988597))
            Line((41.586316654, 28.15988597), (40.542107117, 20.228327079))
        make_face()
        with BuildLine():
            Line((43.413683346, 42.04011403), (44.457892883, 49.971672921))
            ThreePointArc((44.457892883, 49.971672921), (42.5, 50.1), (40.542107117, 49.971672921))
            Line((40.542107117, 49.971672921), (41.586316654, 42.04011403))
            ThreePointArc((41.586316654, 42.04011403), (42.5, 42.1), (43.413683346, 42.04011403))
        make_face()
        with Locations((42.5, 35.1)):
            Circle(SKETCH5_R)
    extrude(amount=-CUT_EXTRUDE2_DEPTH, mode=Mode.SUBTRACT)

    # Sketch6 → Cut-Extrude3 (cut, through all)
    with BuildSketch(Plane.XY.offset(3)):
        with BuildLine():
            Line((20.267805899, 73.6), (20.267805899, 56.703924307))
            ThreePointArc((20.267805899, 56.703924307), (30.43189438, 63.654523753), (42.5, 66.1))
            ThreePointArc((42.5, 66.1), (54.56810562, 63.654523753), (64.732194101, 56.703924307))
            Line((64.732194101, 56.703924307), (64.732194101, 73.6))
            Line((64.732194101, 73.6), (20.267805899, 73.6))
        make_face()
        with BuildLine():
            Line((7, 38.681073475), (7, -1.321937625))
            Line((7, -1.321937625), (27.063139268, 8.216857871))
            ThreePointArc((27.063139268, 8.216857871), (21.378843495, 12.408663594), (16.790879782, 17.778304424))
            ThreePointArc((16.790879782, 17.778304424), (12.018818863, 29.452204281), (12.291615553, 42.060855488))
            Line((12.291615553, 42.060855488), (7, 38.681073475))
        make_face()
        with BuildLine():
            Line((78, 38.681073475), (72.708384447, 42.060855488))
            ThreePointArc((72.708384447, 42.060855488), (72.981181137, 29.452204281), (68.209120218, 17.778304424))
            ThreePointArc((68.209120218, 17.778304424), (63.621156505, 12.408663594), (57.936860732, 8.216857871))
            Line((57.936860732, 8.216857871), (78, -1.321937625))
            Line((78, -1.321937625), (78, 38.681073475))
        make_face()
    extrude(amount=-CUT_EXTRUDE3_DEPTH, mode=Mode.SUBTRACT)

    # Fillet4
    fillet4_edges = [part.edges().sort_by_distance(p)[0] for p in [
        (20.267805899, 73.6, 1.5),
        (64.732194101, 73.6, 1.5),
        (64.732194101, 56.703924307, 1.5),
        (20.267805899, 56.703924307, 1.5),
        (7, 38.681073475, 1.5),
        (12.291615553, 42.060855488, 1.5),
        (27.063139268, 8.216857871, 1.5),
        (7, -1.321937625, 1.5),
        (72.708384447, 42.060855488, 1.5),
        (78, 38.681073475, 1.5),
        (78, -1.321937625, 1.5),
        (57.936860732, 8.216857871, 1.5),
    ]]
    fillet(fillet4_edges, radius=FILLET4_R)


solid = part.part
